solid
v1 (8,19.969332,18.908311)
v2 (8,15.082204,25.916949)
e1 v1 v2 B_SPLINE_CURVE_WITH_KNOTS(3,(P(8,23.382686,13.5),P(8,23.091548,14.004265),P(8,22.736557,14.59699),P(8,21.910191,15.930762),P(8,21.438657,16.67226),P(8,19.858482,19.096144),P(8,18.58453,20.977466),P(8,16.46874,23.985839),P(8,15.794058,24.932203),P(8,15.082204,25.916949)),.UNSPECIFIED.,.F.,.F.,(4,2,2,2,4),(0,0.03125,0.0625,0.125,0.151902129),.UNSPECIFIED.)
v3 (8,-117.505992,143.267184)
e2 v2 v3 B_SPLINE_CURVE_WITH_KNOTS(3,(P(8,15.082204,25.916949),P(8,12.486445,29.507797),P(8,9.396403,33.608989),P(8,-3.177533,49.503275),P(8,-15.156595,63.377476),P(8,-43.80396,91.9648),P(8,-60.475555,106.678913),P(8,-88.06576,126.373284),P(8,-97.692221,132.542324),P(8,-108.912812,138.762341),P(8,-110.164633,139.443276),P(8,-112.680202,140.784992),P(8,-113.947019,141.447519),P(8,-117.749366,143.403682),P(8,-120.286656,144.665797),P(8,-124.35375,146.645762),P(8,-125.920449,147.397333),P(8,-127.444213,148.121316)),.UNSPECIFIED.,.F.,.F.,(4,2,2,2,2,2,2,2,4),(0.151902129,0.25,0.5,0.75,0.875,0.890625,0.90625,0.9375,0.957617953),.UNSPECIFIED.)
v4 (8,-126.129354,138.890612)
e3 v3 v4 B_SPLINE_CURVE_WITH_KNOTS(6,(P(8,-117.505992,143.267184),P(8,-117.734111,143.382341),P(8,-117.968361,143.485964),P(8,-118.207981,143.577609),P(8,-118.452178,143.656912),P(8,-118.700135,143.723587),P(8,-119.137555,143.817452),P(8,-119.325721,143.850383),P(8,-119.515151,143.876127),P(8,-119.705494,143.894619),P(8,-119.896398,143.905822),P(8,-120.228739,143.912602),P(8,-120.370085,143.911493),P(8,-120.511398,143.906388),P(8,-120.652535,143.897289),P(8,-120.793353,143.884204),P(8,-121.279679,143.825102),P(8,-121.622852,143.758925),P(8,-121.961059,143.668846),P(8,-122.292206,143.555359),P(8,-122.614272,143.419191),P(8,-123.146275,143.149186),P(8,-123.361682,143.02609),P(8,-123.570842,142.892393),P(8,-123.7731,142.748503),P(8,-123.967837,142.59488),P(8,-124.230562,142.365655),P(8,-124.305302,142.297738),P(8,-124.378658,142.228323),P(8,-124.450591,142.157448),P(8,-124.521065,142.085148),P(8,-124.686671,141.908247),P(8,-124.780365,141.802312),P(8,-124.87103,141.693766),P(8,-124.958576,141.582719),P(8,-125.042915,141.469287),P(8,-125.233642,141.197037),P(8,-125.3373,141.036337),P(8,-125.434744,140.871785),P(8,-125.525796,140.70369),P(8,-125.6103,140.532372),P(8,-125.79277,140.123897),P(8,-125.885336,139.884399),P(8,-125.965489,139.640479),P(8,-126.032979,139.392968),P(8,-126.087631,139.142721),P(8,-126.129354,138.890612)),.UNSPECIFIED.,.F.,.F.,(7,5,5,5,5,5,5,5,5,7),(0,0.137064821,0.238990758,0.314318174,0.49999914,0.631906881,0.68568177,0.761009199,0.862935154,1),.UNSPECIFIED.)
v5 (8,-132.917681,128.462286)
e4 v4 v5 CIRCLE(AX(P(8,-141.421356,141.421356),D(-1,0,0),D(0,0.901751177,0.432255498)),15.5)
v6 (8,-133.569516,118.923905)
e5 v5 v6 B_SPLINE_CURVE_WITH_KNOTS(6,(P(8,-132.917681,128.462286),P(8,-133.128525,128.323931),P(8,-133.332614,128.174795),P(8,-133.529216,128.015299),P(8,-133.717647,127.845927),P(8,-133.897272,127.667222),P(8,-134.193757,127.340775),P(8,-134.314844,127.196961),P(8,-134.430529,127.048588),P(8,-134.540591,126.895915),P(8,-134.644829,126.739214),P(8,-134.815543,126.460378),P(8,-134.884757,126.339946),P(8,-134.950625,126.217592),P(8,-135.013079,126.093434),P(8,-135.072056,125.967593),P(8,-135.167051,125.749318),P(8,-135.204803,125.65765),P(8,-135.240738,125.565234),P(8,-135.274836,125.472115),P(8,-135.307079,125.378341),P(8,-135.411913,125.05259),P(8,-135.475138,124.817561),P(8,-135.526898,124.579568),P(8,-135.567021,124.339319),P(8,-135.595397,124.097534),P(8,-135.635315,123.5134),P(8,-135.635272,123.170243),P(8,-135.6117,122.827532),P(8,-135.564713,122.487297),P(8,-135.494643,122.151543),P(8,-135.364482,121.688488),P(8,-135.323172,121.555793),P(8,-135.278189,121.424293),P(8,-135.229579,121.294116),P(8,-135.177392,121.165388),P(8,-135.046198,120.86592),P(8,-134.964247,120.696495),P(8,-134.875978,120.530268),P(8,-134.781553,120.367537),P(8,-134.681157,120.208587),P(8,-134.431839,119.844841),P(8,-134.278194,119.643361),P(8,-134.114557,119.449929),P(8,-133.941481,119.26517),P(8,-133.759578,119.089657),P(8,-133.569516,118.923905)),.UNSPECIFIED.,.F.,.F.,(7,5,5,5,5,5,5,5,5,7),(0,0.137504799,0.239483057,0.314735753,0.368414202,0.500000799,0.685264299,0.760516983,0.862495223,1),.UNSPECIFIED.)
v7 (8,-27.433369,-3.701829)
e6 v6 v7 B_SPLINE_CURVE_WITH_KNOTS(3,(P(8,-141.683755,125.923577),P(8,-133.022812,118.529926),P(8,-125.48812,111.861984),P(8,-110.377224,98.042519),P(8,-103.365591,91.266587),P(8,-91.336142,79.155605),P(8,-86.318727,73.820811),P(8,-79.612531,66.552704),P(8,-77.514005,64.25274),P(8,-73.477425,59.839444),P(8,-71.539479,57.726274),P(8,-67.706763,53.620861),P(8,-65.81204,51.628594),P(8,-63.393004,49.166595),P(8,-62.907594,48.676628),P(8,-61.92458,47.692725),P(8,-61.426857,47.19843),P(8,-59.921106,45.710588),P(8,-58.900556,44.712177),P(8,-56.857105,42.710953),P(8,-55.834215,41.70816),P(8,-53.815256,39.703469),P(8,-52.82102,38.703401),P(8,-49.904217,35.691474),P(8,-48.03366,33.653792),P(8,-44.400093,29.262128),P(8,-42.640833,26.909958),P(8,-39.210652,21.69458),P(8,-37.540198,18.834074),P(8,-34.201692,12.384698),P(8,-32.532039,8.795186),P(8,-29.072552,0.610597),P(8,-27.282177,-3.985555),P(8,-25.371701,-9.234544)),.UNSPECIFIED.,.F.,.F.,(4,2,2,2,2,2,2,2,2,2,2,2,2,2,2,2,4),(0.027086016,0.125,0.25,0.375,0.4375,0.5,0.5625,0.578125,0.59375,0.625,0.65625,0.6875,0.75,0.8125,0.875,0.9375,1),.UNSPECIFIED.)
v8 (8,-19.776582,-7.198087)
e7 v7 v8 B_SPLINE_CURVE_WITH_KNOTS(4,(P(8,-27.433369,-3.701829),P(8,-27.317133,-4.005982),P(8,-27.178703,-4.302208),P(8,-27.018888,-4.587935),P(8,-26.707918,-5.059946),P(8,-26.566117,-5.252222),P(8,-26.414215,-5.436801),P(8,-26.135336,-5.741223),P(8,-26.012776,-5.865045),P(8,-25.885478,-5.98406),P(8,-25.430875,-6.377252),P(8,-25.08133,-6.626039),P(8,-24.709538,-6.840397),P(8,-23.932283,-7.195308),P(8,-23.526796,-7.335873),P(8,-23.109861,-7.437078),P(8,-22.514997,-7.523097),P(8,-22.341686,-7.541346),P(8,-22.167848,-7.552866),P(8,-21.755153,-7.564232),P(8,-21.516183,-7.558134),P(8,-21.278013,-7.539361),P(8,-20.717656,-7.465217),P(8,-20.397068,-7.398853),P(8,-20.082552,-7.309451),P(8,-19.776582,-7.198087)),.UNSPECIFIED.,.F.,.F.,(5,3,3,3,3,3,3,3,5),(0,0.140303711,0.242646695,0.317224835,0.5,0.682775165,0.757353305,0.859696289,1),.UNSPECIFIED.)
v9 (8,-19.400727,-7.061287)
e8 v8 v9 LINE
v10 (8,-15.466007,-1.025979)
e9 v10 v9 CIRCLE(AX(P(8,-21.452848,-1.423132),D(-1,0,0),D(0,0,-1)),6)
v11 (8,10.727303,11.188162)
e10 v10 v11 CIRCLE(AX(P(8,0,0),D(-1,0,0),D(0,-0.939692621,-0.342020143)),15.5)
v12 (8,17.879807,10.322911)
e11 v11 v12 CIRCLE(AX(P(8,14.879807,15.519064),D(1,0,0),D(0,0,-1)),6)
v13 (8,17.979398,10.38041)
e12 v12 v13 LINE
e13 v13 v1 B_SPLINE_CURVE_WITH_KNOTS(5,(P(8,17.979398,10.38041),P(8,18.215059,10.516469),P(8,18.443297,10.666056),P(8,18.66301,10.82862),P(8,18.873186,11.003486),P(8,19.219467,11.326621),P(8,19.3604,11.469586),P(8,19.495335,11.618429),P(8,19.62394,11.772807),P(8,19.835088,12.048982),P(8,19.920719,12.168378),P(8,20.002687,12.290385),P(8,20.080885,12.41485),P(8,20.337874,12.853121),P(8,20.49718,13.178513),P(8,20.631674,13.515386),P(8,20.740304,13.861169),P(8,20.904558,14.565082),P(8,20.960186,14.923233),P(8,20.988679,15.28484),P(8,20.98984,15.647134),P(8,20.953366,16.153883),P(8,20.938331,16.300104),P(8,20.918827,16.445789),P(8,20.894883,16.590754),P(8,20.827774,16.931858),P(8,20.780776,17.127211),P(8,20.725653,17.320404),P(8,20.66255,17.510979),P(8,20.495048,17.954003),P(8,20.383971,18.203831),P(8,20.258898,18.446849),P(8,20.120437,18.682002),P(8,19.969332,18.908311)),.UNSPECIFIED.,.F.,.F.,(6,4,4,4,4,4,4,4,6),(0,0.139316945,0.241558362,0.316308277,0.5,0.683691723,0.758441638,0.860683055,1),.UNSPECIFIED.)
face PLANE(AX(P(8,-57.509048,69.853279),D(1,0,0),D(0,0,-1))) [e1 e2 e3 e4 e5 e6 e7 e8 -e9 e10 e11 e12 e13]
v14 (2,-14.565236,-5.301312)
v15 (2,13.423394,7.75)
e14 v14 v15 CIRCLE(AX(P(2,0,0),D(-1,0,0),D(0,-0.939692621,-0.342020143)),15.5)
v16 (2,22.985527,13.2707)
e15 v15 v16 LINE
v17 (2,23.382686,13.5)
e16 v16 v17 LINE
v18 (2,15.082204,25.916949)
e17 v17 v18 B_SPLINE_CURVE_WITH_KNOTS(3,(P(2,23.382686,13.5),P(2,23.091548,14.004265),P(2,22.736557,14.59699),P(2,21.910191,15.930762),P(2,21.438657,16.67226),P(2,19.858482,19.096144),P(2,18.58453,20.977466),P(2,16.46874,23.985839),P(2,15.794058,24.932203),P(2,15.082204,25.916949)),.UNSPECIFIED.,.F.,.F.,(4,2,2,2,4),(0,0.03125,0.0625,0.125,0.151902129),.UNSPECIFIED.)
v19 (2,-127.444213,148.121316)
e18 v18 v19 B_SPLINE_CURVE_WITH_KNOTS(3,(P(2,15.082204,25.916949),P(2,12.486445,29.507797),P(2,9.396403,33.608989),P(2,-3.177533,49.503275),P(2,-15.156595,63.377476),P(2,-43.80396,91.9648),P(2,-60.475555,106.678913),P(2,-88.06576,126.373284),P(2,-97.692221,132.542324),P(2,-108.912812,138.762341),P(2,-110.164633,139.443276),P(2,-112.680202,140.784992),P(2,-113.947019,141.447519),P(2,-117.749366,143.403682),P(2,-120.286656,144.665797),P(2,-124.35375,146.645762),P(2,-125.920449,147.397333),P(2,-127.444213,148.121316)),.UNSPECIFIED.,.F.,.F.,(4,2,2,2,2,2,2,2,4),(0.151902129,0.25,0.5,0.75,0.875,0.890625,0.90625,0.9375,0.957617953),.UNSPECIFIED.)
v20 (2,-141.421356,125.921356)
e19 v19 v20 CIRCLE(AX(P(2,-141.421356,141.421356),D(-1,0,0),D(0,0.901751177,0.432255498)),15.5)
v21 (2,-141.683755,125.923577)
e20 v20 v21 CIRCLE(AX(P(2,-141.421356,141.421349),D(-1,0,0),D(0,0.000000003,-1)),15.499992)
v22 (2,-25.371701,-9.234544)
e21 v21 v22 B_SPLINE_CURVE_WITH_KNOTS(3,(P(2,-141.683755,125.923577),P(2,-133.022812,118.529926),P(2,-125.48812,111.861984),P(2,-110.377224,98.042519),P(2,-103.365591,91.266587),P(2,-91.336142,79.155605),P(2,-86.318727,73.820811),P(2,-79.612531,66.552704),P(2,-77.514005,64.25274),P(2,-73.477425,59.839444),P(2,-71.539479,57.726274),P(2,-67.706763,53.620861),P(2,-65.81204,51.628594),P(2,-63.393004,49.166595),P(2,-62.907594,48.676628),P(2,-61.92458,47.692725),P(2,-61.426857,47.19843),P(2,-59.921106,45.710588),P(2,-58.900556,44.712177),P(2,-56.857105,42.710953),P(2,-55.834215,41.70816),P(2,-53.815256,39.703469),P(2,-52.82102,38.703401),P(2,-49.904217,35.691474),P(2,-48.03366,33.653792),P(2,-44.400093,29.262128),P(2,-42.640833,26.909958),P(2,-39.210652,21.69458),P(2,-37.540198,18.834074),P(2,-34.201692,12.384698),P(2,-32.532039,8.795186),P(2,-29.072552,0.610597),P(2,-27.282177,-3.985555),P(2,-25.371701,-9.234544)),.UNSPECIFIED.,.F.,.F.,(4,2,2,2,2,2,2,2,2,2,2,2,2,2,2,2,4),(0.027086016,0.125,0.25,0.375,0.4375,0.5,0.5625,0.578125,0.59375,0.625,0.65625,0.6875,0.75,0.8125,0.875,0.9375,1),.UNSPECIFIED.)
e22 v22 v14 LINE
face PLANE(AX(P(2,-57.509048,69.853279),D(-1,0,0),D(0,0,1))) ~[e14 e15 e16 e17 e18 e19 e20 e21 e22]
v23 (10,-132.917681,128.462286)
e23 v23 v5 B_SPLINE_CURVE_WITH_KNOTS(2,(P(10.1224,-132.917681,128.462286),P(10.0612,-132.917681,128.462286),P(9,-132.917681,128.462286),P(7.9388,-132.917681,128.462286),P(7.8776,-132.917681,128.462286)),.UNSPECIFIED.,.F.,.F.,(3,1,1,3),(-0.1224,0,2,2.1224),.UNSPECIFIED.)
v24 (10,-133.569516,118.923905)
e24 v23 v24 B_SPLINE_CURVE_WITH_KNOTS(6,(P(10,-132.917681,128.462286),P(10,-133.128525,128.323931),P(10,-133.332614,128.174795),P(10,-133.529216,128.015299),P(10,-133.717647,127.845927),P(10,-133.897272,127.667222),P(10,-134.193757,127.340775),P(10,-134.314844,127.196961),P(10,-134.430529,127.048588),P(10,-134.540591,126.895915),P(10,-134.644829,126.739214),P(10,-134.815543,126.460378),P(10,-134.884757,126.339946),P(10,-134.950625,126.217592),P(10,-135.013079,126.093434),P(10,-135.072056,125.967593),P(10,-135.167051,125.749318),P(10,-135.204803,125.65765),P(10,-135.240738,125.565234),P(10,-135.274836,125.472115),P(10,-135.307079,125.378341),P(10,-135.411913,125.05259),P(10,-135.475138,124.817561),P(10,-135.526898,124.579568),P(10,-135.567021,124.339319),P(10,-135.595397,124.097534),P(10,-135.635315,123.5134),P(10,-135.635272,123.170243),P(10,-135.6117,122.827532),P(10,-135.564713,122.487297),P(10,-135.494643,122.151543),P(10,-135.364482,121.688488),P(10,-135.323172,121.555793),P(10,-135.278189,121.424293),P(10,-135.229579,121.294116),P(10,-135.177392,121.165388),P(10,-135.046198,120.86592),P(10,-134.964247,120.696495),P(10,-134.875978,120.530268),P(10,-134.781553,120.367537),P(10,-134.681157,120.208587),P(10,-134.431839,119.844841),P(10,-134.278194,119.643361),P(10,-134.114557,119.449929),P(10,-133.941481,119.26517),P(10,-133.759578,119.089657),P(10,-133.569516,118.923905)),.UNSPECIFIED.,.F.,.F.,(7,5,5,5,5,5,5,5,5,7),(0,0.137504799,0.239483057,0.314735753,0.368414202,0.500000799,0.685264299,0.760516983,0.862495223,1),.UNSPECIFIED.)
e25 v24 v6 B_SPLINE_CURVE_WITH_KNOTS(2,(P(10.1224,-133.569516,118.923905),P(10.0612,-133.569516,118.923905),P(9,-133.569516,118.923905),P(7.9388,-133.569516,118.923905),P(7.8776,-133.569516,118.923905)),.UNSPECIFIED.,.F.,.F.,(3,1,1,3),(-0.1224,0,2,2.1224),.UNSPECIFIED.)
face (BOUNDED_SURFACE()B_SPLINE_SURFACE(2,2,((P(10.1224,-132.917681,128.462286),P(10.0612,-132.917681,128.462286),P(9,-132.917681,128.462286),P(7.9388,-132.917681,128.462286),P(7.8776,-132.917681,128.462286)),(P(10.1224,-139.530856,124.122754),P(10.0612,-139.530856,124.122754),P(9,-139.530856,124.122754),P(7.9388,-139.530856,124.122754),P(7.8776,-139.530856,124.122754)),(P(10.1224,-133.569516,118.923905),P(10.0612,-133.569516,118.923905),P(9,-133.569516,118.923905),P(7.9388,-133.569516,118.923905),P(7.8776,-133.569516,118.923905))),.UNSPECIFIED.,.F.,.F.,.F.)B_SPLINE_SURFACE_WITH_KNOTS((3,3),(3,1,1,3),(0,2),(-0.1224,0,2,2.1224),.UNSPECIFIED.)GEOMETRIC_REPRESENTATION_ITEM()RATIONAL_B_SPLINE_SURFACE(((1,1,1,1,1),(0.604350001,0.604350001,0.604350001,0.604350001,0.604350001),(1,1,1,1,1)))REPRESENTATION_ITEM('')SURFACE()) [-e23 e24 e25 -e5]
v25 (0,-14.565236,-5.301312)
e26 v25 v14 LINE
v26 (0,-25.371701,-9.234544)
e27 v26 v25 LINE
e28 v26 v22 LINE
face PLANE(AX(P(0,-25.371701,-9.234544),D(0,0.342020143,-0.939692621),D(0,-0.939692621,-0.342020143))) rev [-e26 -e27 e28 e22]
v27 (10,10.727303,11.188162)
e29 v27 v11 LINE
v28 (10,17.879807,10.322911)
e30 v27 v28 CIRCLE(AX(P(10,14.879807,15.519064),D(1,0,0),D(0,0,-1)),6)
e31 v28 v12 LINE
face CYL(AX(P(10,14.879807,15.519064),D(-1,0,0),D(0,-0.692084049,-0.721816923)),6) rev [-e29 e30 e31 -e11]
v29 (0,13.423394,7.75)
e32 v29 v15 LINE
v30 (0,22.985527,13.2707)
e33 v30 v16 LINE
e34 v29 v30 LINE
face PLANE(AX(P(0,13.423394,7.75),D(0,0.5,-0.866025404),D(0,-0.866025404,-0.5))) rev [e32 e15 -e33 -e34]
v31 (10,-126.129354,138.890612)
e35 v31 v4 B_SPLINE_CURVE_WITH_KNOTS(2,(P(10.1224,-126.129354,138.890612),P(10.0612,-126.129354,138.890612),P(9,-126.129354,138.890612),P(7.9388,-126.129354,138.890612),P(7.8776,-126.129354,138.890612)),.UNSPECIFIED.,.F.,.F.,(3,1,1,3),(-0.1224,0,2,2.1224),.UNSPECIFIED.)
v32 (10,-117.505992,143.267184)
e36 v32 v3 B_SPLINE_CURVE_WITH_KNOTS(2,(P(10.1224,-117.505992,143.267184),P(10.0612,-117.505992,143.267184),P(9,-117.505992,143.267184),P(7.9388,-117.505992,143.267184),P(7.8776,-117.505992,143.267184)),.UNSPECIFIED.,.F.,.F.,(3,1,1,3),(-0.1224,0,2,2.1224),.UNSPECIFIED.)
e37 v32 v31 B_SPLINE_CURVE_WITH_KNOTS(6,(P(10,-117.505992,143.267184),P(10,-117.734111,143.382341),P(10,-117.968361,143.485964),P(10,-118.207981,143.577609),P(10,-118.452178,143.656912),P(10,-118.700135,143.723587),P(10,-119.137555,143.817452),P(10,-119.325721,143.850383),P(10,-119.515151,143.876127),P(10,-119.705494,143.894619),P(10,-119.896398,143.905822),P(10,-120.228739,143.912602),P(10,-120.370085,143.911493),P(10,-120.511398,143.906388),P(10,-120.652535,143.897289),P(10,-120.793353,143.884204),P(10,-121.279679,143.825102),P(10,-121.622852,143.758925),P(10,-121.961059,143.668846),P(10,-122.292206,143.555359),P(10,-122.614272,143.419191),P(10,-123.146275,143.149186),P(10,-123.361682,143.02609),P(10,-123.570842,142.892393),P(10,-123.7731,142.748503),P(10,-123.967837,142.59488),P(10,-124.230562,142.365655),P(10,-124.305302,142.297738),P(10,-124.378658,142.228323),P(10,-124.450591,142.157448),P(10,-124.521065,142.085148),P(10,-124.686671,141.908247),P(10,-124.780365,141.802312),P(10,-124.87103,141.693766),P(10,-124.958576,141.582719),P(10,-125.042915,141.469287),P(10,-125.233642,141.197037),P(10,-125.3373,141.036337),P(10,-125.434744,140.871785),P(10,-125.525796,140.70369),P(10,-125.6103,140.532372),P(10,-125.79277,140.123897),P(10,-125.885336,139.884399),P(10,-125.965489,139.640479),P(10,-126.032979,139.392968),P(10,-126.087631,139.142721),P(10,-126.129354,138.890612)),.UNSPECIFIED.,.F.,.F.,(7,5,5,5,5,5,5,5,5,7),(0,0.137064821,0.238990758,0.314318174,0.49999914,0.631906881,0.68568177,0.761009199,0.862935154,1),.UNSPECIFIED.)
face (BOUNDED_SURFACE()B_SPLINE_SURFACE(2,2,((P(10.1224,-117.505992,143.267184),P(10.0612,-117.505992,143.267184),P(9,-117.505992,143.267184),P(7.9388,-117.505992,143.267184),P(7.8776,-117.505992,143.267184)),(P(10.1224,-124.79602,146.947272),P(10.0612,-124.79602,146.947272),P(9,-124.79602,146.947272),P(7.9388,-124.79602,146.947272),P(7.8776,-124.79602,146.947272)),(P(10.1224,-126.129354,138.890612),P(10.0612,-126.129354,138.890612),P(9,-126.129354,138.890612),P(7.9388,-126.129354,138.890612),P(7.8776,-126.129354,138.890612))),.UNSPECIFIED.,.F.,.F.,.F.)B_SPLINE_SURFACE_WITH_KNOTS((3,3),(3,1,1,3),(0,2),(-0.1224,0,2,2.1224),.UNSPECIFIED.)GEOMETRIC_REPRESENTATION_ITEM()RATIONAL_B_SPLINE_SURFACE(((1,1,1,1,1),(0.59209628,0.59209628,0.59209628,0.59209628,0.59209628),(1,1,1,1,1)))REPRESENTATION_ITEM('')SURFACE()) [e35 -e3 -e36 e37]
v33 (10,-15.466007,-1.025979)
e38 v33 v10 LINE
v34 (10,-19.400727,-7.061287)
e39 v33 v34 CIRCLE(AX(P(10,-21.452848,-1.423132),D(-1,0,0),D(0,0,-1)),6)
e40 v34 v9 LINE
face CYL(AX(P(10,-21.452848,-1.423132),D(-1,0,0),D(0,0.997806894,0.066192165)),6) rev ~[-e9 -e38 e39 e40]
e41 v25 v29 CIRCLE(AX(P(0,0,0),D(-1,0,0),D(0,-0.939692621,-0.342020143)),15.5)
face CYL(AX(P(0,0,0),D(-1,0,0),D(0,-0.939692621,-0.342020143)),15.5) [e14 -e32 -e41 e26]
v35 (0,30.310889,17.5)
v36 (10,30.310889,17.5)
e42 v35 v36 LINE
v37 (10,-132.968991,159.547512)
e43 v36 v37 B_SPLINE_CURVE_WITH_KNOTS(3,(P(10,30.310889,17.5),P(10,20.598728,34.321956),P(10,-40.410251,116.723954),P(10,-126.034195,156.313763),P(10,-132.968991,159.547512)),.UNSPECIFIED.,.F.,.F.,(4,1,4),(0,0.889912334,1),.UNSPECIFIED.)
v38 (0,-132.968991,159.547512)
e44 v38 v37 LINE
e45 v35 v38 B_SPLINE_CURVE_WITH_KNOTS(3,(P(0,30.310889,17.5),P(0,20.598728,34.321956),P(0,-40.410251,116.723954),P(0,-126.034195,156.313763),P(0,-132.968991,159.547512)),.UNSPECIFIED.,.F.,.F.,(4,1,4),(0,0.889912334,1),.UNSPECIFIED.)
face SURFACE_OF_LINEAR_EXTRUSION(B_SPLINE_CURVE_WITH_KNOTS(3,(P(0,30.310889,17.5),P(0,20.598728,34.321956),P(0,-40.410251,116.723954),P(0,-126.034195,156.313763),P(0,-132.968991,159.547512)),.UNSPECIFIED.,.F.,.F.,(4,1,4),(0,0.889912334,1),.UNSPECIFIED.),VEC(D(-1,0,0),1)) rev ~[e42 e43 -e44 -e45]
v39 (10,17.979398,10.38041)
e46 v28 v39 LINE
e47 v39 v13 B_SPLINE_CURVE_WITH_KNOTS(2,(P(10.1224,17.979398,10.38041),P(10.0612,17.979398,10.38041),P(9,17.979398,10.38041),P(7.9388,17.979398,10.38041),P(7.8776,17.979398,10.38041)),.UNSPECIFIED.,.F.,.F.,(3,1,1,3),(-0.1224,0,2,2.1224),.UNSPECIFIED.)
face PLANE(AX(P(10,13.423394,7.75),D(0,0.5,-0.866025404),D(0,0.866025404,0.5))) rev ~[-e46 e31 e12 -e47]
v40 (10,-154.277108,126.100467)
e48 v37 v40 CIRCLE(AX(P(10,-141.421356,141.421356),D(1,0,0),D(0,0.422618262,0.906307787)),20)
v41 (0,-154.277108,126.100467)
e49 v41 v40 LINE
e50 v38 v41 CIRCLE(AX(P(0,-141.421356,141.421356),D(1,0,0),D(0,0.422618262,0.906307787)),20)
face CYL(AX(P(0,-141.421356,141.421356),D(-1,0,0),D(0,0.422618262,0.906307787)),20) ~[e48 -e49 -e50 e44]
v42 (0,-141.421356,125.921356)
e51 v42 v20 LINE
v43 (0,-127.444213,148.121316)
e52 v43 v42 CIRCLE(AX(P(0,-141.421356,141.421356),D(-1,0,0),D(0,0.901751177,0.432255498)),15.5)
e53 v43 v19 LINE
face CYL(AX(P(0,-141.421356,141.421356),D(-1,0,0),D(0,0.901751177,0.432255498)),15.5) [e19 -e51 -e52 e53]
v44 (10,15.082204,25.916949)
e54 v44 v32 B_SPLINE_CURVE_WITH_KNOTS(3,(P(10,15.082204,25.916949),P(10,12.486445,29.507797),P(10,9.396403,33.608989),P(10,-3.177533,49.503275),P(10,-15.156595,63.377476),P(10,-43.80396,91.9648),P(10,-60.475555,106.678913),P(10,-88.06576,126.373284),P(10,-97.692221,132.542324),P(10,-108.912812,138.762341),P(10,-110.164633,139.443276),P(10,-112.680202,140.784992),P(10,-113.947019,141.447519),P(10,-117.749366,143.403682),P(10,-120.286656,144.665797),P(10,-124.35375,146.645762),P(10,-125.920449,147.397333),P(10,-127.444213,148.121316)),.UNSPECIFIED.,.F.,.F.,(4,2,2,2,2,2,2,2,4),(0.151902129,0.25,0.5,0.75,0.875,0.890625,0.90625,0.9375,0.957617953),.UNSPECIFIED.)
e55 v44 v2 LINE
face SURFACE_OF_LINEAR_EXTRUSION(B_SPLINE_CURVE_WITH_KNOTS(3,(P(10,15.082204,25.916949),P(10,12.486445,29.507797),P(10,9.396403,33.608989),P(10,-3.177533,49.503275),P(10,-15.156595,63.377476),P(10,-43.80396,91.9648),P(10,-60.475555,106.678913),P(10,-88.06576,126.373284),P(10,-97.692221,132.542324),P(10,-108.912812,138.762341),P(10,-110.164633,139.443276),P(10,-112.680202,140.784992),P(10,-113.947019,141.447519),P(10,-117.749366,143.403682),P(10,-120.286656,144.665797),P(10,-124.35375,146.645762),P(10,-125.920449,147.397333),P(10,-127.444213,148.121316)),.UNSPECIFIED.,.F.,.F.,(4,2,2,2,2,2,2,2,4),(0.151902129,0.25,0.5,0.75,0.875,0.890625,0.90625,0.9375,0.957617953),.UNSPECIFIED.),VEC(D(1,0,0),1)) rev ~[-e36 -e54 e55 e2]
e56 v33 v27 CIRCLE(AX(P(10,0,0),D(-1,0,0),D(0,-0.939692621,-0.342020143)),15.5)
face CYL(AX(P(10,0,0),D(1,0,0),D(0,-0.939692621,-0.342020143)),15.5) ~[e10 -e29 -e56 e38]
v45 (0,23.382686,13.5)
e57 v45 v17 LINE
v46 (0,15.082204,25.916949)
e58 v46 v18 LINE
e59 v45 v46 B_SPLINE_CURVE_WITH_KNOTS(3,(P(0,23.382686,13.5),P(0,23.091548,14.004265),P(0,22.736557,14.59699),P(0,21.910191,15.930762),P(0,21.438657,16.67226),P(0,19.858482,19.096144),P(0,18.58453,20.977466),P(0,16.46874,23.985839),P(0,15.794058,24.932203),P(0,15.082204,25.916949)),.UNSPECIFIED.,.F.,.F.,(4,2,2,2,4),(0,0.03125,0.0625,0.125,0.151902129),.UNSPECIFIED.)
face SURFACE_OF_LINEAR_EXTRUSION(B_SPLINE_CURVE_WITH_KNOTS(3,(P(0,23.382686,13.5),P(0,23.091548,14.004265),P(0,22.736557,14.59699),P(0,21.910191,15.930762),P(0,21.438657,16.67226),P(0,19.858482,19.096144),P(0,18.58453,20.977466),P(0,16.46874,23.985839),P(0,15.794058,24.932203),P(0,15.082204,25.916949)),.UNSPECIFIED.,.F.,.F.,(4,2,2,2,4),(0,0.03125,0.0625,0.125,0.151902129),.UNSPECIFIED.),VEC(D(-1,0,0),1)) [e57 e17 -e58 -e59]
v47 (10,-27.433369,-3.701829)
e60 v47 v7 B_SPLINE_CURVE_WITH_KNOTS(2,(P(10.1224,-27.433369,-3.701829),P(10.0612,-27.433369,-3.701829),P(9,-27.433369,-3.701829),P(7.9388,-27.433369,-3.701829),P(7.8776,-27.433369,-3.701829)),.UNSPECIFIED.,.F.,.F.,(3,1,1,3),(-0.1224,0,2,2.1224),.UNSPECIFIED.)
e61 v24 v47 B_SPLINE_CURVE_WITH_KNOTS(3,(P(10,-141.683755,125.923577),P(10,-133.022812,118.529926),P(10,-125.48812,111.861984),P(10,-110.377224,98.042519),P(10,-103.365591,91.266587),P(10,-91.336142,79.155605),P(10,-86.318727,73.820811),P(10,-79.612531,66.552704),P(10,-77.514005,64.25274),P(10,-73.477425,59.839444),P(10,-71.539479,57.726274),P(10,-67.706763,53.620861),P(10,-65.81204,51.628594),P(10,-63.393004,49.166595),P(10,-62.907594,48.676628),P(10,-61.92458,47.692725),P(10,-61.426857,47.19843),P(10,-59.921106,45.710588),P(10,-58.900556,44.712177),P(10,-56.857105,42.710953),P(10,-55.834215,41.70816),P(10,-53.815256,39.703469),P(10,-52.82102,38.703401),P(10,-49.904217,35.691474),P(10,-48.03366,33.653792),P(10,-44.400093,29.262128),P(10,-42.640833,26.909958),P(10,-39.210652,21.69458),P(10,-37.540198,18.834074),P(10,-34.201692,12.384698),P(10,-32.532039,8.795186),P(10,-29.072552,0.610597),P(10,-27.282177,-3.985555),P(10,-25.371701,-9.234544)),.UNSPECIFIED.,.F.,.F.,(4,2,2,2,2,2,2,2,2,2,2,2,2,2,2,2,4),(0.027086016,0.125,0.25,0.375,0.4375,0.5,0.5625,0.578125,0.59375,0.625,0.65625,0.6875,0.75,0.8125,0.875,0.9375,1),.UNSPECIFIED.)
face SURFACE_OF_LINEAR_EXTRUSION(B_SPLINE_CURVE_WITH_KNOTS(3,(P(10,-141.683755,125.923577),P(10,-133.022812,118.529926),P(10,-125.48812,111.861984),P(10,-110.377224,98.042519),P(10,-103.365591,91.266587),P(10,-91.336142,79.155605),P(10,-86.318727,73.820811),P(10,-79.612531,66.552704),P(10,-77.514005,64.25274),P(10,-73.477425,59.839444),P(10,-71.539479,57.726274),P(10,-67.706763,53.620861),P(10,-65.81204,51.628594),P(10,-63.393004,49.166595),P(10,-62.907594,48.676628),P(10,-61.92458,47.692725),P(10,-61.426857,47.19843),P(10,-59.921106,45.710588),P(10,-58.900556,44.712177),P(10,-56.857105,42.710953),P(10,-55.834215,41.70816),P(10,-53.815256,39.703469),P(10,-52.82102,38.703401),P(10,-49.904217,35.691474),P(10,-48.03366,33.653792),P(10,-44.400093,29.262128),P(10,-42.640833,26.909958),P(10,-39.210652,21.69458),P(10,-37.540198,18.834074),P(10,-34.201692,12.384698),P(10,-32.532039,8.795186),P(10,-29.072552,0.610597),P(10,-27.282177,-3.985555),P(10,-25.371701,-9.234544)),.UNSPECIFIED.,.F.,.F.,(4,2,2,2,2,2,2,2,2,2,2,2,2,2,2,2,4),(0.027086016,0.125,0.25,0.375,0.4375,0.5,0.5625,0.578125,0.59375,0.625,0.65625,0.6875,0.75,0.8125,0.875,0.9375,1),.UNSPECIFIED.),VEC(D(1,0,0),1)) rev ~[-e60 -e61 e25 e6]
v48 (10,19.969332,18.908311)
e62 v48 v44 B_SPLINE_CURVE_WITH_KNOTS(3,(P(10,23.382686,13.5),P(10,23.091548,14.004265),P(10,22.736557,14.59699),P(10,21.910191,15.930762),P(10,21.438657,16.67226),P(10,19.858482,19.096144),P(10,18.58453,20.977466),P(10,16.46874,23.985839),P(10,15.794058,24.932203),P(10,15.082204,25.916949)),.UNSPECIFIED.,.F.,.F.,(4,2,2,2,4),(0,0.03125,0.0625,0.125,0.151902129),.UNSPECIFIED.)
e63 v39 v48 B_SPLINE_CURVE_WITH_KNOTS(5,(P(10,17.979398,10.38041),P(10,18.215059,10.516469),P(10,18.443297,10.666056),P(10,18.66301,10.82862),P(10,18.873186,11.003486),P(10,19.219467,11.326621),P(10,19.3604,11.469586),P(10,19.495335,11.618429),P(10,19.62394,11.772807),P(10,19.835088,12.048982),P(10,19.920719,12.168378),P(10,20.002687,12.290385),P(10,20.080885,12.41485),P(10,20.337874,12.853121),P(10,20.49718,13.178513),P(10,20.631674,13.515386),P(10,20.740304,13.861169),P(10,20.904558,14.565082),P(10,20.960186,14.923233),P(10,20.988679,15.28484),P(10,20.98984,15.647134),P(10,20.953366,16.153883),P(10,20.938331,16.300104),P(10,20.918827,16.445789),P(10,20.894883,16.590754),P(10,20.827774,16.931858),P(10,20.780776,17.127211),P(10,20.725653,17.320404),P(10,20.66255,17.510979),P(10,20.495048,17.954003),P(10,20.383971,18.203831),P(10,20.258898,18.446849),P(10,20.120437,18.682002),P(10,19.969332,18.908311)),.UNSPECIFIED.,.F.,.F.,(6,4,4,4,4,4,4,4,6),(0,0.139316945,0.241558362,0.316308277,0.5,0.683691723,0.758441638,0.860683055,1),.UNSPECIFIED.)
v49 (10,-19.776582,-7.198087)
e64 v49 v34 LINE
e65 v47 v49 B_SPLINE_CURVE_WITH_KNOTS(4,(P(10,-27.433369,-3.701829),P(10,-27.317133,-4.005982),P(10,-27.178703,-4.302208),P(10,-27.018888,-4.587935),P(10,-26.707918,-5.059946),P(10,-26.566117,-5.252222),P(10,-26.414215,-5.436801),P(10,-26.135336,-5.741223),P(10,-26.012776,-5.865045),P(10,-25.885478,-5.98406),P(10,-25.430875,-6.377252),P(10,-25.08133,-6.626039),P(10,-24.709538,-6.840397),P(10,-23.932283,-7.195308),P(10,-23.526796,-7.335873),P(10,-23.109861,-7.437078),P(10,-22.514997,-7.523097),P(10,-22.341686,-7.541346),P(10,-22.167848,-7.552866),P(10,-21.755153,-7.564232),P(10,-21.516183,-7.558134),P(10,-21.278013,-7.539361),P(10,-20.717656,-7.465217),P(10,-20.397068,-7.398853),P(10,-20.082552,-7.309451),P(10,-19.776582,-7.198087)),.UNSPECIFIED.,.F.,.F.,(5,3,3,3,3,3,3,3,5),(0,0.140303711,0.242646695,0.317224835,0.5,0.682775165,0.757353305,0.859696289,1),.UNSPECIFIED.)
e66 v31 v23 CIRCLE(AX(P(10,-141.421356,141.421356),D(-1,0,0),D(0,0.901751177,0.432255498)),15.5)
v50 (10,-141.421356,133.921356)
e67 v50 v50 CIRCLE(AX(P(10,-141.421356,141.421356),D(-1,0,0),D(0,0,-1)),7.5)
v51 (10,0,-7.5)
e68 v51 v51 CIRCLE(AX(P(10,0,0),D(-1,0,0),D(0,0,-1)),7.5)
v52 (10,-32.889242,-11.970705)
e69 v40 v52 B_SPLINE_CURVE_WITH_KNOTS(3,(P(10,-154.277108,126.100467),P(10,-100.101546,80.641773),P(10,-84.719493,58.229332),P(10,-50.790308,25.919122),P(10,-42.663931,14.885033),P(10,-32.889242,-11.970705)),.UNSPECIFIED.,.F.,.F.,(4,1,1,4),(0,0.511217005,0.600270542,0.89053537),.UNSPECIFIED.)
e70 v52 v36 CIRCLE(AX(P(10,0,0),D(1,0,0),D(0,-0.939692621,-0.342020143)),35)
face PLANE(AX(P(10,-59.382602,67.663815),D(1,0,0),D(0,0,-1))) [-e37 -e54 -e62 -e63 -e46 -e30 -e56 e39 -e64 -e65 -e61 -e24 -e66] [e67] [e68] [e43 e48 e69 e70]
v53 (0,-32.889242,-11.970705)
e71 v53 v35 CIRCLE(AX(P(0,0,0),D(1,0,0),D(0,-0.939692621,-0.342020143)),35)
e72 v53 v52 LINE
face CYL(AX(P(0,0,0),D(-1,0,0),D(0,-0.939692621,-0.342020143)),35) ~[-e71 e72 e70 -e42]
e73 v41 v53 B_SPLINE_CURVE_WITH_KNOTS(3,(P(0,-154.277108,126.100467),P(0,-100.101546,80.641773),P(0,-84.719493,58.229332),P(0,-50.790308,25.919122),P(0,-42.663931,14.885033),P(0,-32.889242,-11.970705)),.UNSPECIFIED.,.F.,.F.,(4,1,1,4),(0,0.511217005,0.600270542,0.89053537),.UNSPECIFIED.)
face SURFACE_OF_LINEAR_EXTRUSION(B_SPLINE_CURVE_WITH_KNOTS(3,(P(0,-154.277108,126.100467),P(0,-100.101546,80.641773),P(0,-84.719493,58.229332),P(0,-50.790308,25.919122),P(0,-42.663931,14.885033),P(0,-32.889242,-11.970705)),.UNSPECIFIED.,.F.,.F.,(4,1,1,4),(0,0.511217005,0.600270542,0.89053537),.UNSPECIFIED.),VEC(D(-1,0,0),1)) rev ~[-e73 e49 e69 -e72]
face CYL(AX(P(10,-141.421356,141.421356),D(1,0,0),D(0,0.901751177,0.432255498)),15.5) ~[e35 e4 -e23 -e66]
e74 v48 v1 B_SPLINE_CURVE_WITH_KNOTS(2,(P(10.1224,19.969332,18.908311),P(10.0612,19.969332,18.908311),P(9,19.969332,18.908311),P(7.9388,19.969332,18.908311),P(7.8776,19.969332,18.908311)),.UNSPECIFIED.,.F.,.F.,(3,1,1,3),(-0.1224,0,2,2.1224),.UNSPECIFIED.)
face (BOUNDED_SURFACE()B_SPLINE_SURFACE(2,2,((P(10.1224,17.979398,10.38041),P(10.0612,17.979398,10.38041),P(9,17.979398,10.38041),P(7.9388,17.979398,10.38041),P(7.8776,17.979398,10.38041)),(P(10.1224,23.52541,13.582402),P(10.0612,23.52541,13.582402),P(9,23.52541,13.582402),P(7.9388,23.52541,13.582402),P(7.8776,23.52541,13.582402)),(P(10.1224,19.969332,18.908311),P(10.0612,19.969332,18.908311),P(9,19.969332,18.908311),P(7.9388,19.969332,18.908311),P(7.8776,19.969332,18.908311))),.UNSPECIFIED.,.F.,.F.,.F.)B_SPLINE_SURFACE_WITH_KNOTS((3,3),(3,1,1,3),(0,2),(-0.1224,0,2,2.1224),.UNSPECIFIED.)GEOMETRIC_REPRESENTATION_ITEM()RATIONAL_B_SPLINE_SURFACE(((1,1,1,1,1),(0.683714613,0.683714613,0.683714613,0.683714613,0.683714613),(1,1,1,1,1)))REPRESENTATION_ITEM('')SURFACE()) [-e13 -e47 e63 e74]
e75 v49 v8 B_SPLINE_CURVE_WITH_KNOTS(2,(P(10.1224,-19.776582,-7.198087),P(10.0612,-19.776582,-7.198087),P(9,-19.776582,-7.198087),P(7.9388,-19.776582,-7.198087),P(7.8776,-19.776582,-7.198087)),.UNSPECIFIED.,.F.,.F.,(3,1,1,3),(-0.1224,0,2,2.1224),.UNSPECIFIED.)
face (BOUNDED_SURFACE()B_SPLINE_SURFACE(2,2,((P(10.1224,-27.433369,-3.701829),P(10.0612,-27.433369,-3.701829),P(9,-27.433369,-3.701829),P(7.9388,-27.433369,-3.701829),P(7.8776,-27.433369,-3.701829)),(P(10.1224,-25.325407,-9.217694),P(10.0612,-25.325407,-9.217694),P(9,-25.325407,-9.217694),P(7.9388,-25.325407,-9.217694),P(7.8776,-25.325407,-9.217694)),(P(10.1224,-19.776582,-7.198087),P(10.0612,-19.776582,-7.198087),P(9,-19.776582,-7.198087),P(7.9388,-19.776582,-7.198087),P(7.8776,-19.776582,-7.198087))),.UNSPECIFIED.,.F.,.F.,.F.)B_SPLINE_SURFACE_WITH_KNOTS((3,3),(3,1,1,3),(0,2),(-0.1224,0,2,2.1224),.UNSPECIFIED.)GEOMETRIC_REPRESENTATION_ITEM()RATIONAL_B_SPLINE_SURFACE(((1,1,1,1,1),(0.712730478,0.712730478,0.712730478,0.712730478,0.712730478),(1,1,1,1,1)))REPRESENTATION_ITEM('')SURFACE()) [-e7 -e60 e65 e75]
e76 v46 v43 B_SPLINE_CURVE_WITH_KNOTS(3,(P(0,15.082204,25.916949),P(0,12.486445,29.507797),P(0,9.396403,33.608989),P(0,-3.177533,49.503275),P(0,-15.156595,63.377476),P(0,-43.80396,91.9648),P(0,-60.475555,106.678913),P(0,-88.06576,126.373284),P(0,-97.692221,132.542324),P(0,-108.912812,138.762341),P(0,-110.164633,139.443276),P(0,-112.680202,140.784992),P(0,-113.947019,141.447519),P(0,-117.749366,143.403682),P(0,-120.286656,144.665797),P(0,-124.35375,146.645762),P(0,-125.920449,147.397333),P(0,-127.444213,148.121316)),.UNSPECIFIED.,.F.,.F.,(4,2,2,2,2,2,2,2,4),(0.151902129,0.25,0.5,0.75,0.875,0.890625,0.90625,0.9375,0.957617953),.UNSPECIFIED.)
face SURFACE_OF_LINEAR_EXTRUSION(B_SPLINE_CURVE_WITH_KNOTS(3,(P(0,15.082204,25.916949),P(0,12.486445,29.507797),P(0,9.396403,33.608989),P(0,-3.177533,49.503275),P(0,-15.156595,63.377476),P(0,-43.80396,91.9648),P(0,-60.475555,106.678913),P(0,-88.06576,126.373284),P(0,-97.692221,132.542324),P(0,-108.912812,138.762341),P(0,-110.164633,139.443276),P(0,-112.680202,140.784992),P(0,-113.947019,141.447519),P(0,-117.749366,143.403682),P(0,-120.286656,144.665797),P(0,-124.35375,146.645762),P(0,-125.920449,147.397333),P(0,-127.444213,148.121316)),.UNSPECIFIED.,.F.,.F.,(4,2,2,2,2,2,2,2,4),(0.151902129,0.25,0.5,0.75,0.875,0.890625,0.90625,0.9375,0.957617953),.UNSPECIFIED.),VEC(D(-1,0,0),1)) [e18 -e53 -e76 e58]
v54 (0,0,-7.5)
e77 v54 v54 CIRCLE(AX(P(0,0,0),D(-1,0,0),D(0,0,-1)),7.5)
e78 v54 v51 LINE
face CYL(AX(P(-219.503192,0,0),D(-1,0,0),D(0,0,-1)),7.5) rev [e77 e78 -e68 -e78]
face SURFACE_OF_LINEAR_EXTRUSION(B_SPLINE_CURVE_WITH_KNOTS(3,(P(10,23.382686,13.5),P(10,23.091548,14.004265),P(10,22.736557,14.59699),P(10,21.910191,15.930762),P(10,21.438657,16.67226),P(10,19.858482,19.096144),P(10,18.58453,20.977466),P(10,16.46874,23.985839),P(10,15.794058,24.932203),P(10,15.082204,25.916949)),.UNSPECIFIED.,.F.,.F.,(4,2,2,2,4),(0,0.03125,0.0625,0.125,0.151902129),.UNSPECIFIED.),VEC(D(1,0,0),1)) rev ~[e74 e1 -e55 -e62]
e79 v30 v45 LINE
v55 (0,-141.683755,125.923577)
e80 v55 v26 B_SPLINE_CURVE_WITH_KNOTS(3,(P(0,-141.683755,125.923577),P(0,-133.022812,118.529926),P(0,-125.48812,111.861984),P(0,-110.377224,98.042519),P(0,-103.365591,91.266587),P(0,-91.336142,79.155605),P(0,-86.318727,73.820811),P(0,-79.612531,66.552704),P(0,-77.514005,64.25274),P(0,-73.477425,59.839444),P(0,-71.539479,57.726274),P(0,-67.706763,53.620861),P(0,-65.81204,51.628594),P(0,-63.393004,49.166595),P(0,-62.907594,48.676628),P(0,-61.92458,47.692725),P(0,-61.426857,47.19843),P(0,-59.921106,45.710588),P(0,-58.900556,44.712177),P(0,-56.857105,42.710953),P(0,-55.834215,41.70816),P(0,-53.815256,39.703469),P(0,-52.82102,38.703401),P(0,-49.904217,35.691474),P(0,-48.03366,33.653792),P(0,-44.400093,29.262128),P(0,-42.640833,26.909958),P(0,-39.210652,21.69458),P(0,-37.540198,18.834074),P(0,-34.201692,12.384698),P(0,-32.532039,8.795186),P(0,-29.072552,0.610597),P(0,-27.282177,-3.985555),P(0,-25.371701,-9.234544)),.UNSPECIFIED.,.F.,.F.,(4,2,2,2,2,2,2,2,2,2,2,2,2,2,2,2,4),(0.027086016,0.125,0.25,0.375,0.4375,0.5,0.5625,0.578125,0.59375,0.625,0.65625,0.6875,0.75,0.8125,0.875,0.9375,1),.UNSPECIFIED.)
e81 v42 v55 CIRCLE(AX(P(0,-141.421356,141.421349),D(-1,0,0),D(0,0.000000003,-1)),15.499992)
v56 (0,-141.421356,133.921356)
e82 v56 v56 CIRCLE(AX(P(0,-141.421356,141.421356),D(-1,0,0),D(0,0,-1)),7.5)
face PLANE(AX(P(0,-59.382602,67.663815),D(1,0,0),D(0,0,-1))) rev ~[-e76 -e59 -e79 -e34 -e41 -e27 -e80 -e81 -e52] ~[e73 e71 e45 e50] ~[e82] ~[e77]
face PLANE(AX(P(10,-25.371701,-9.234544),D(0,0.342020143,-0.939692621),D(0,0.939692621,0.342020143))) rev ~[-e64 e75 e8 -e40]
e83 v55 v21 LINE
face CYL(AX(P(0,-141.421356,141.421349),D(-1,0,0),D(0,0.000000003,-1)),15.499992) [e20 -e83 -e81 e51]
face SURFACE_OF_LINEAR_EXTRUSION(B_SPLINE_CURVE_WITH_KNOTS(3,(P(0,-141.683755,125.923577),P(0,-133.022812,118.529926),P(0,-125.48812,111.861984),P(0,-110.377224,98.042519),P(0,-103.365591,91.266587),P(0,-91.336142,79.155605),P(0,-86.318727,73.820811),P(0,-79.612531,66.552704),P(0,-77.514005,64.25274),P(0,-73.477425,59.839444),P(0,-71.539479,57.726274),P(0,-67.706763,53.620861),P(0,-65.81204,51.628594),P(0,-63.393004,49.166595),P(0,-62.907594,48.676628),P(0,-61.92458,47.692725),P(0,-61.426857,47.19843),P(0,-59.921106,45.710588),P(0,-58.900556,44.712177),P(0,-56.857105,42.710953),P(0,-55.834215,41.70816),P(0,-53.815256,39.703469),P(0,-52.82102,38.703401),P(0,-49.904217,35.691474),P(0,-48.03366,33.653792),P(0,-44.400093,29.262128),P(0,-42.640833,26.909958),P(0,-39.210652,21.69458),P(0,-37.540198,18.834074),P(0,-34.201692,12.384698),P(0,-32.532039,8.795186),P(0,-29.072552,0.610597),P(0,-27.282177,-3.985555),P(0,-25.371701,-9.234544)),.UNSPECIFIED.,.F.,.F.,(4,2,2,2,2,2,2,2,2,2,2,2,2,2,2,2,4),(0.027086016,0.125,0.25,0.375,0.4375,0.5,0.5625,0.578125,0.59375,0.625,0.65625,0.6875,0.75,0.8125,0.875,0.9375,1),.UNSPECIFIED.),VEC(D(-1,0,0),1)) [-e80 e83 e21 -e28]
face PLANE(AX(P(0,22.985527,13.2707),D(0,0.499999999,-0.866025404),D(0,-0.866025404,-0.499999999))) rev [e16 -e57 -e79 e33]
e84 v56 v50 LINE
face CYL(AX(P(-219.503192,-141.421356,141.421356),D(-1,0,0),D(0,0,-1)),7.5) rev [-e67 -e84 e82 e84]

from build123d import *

# Parameters (mm, degrees)
BOSS_EXTRUDE1_DEPTH     = 10
CUT_EXTRUDE1_DEPTH      = 229.503191587
CUT_EXTRUDE1_DEPTH_BACK = 229.503191587
SKETCH2_R               = 7.5
CUT_EXTRUDE4_DEPTH      = 2
FILLET3_R               = 6


with BuildPart() as part:
    # Sketch1 → Boss-Extrude1 (new body)
    with BuildSketch(Plane(origin=(0, 0, 0), x_dir=(0, 0, -1), z_dir=(1, 0, 0))):
        with BuildLine():
            ThreePointArc((11.970705016, -32.889241728), (31.720772546, 14.791639161), (-17.5, 30.310889132))
            add(Edge.make_bspline(
                [(-17.5, 30.310889132), (-34.321955695, 20.598728483), (-116.723953626, -40.410250972), (-156.313763477, -126.034194964), (-159.547511978, -132.968991002)],
                knots=[0, 0, 0, 0, 0.889912334, 1, 1, 1, 1], degree=3))
            ThreePointArc((-159.547511978, -132.968991002), (-152.167348404, -158.289185154), (-126.100467375, -154.277108431))
            add(Edge.make_bspline(
                [(-126.100467375, -154.277108431), (-80.64177253, -100.101545535), (-58.2293325, -84.719492888), (-25.919121569, -50.790307967), (-14.885033301, -42.663931094), (11.970705016, -32.889241728)],
                knots=[0, 0, 0, 0, 0.511217005, 0.600270542, 0.89053537, 0.89053537, 0.89053537, 0.89053537], degree=3))
        make_face()
    extrude(amount=BOSS_EXTRUDE1_DEPTH)

    # Sketch2 → Cut-Extrude1 (cut, two sides: drawn at the far end of the back side and taken through both)
    with BuildSketch(Plane(origin=(10, 0, 0), x_dir=(0, 0, -1), z_dir=(1, 0, 0)).offset(-CUT_EXTRUDE1_DEPTH_BACK)):
        Circle(SKETCH2_R)
        with Locations((-141.421356237, -141.421356237)):
            Circle(SKETCH2_R)
    extrude(amount=CUT_EXTRUDE1_DEPTH + CUT_EXTRUDE1_DEPTH_BACK, mode=Mode.SUBTRACT)

    # Sketch8 → Cut-Extrude4 (cut)
    with BuildSketch(Plane(origin=(10, 0, 0), x_dir=(0, 0, -1), z_dir=(1, 0, 0))):
        with BuildLine():
            ThreePointArc((5.301312222, -14.565235622), (-14.047770699, -6.550583057), (-7.75, 13.423393759))
            Line((-7.75, 13.423393759), (-13.270700045, 22.985526729))
            Line((-13.270700045, 22.985526729), (-13.5, 23.382685902))
            add(Edge.make_bspline(
                [(-13.5, 23.382685902), (-14.004264792, 23.091548489), (-14.596989898, 22.736556542), (-15.930761723, 21.910191472), (-16.672259928, 21.43865672), (-19.096143962, 19.858481722), (-20.97746579, 18.58453004), (-23.985838626, 16.468739554), (-24.932203297, 15.79405814), (-25.916949038, 15.082203502)],
                knots=[0, 0, 0, 0, 0.03125, 0.03125, 0.0625, 0.0625, 0.125, 0.125, 0.151902129, 0.151902129, 0.151902129, 0.151902129], degree=3))
            add(Edge.make_bspline(
                [(-25.916949038, 15.082203502), (-29.507797216, 12.4864452), (-33.608989313, 9.396403406), (-49.503275079, -3.177533176), (-63.377476055, -15.156595083), (-91.964800189, -43.803959857), (-106.678912673, -60.475554794), (-126.373284326, -88.065760368), (-132.542324418, -97.692221413), (-138.762340902, -108.912812223), (-139.443275699, -110.164633361), (-140.784992316, -112.680202379), (-141.44751941, -113.947019213), (-143.40368157, -117.749366226), (-144.665797353, -120.286656297), (-146.645761611, -124.353749783), (-147.397332853, -125.92044903), (-148.121316458, -127.444213001)],
                knots=[0.151902129, 0.151902129, 0.151902129, 0.151902129, 0.25, 0.25, 0.5, 0.5, 0.75, 0.75, 0.875, 0.875, 0.890625, 0.890625, 0.90625, 0.90625, 0.9375, 0.9375, 0.957617953, 0.957617953, 0.957617953, 0.957617953], degree=3))
            ThreePointArc((-148.121316458, -127.444213001), (-133.163008443, -128.304584847), (-125.921356237, -141.421356237))
            ThreePointArc((-125.921356237, -141.421356237), (-125.921911553, -141.552560245), (-125.923577462, -141.683754851))
            add(Edge.make_bspline(
                [(-125.923577462, -141.683754851), (-118.529925562, -133.022812133), (-111.861983926, -125.488119901), (-98.042519438, -110.377224048), (-91.266586508, -103.365591459), (-79.155605263, -91.336141526), (-73.820810692, -86.318727269), (-66.552703556, -79.612530547), (-64.252740209, -77.514005309), (-59.839444304, -73.477424972), (-57.726273613, -71.539479143), (-53.620860933, -67.706762992), (-51.628593649, -65.812039684), (-49.166594827, -63.393004096), (-48.676627606, -62.907593959), (-47.692724643, -61.92458048), (-47.198430387, -61.426856534), (-45.710588093, -59.921105575), (-44.712177008, -58.90055567), (-42.710952583, -56.857105325), (-41.708160185, -55.834215393), (-39.703469442, -53.815256413), (-38.703400895, -52.821019854), (-35.691473525, -49.90421685), (-33.653791845, -48.033660498), (-29.262128181, -44.400093328), (-26.909957963, -42.640832773), (-21.694579862, -39.210652351), (-18.834074142, -37.540197568), (-12.384697646, -34.20169183), (-8.795186024, -32.532039364), (-0.610596797, -29.072552339), (3.985554691, -27.282176582), (9.23454387, -25.371700761)],
                knots=[0.027086016, 0.027086016, 0.027086016, 0.027086016, 0.125, 0.125, 0.25, 0.25, 0.375, 0.375, 0.4375, 0.4375, 0.5, 0.5, 0.5625, 0.5625, 0.578125, 0.578125, 0.59375, 0.59375, 0.625, 0.625, 0.65625, 0.65625, 0.6875, 0.6875, 0.75, 0.75, 0.8125, 0.8125, 0.875, 0.875, 0.9375, 0.9375, 1, 1, 1, 1], degree=3))
            Line((9.23454387, -25.371700761), (5.301312222, -14.565235622))
        make_face()
    cut_extrude4 = extrude(amount=-CUT_EXTRUDE4_DEPTH, mode=Mode.SUBTRACT)

    # Fillet3
    fillet3_edges = [part.edges().sort_by_distance(p)[0] for p in [
        (9, -25.371700761, -9.23454387),
        (9, -14.565235622, -5.301312222),
        (9, 13.423393759, 7.75),
        (9, 23.382685902, 13.5),
        (9, -141.683754851, 125.923577462),
        (9, -127.444213001, 148.121316458),
    ]]
    fillet(fillet3_edges, radius=FILLET3_R)

    # Mirror1: Cut-Extrude4 across plane
    add(cut_extrude4.mirror(Plane(origin=(5, 0, 0), x_dir=(0, 0, 1), z_dir=(1, 0, 0))), mode=Mode.SUBTRACT)


solid = part.part
